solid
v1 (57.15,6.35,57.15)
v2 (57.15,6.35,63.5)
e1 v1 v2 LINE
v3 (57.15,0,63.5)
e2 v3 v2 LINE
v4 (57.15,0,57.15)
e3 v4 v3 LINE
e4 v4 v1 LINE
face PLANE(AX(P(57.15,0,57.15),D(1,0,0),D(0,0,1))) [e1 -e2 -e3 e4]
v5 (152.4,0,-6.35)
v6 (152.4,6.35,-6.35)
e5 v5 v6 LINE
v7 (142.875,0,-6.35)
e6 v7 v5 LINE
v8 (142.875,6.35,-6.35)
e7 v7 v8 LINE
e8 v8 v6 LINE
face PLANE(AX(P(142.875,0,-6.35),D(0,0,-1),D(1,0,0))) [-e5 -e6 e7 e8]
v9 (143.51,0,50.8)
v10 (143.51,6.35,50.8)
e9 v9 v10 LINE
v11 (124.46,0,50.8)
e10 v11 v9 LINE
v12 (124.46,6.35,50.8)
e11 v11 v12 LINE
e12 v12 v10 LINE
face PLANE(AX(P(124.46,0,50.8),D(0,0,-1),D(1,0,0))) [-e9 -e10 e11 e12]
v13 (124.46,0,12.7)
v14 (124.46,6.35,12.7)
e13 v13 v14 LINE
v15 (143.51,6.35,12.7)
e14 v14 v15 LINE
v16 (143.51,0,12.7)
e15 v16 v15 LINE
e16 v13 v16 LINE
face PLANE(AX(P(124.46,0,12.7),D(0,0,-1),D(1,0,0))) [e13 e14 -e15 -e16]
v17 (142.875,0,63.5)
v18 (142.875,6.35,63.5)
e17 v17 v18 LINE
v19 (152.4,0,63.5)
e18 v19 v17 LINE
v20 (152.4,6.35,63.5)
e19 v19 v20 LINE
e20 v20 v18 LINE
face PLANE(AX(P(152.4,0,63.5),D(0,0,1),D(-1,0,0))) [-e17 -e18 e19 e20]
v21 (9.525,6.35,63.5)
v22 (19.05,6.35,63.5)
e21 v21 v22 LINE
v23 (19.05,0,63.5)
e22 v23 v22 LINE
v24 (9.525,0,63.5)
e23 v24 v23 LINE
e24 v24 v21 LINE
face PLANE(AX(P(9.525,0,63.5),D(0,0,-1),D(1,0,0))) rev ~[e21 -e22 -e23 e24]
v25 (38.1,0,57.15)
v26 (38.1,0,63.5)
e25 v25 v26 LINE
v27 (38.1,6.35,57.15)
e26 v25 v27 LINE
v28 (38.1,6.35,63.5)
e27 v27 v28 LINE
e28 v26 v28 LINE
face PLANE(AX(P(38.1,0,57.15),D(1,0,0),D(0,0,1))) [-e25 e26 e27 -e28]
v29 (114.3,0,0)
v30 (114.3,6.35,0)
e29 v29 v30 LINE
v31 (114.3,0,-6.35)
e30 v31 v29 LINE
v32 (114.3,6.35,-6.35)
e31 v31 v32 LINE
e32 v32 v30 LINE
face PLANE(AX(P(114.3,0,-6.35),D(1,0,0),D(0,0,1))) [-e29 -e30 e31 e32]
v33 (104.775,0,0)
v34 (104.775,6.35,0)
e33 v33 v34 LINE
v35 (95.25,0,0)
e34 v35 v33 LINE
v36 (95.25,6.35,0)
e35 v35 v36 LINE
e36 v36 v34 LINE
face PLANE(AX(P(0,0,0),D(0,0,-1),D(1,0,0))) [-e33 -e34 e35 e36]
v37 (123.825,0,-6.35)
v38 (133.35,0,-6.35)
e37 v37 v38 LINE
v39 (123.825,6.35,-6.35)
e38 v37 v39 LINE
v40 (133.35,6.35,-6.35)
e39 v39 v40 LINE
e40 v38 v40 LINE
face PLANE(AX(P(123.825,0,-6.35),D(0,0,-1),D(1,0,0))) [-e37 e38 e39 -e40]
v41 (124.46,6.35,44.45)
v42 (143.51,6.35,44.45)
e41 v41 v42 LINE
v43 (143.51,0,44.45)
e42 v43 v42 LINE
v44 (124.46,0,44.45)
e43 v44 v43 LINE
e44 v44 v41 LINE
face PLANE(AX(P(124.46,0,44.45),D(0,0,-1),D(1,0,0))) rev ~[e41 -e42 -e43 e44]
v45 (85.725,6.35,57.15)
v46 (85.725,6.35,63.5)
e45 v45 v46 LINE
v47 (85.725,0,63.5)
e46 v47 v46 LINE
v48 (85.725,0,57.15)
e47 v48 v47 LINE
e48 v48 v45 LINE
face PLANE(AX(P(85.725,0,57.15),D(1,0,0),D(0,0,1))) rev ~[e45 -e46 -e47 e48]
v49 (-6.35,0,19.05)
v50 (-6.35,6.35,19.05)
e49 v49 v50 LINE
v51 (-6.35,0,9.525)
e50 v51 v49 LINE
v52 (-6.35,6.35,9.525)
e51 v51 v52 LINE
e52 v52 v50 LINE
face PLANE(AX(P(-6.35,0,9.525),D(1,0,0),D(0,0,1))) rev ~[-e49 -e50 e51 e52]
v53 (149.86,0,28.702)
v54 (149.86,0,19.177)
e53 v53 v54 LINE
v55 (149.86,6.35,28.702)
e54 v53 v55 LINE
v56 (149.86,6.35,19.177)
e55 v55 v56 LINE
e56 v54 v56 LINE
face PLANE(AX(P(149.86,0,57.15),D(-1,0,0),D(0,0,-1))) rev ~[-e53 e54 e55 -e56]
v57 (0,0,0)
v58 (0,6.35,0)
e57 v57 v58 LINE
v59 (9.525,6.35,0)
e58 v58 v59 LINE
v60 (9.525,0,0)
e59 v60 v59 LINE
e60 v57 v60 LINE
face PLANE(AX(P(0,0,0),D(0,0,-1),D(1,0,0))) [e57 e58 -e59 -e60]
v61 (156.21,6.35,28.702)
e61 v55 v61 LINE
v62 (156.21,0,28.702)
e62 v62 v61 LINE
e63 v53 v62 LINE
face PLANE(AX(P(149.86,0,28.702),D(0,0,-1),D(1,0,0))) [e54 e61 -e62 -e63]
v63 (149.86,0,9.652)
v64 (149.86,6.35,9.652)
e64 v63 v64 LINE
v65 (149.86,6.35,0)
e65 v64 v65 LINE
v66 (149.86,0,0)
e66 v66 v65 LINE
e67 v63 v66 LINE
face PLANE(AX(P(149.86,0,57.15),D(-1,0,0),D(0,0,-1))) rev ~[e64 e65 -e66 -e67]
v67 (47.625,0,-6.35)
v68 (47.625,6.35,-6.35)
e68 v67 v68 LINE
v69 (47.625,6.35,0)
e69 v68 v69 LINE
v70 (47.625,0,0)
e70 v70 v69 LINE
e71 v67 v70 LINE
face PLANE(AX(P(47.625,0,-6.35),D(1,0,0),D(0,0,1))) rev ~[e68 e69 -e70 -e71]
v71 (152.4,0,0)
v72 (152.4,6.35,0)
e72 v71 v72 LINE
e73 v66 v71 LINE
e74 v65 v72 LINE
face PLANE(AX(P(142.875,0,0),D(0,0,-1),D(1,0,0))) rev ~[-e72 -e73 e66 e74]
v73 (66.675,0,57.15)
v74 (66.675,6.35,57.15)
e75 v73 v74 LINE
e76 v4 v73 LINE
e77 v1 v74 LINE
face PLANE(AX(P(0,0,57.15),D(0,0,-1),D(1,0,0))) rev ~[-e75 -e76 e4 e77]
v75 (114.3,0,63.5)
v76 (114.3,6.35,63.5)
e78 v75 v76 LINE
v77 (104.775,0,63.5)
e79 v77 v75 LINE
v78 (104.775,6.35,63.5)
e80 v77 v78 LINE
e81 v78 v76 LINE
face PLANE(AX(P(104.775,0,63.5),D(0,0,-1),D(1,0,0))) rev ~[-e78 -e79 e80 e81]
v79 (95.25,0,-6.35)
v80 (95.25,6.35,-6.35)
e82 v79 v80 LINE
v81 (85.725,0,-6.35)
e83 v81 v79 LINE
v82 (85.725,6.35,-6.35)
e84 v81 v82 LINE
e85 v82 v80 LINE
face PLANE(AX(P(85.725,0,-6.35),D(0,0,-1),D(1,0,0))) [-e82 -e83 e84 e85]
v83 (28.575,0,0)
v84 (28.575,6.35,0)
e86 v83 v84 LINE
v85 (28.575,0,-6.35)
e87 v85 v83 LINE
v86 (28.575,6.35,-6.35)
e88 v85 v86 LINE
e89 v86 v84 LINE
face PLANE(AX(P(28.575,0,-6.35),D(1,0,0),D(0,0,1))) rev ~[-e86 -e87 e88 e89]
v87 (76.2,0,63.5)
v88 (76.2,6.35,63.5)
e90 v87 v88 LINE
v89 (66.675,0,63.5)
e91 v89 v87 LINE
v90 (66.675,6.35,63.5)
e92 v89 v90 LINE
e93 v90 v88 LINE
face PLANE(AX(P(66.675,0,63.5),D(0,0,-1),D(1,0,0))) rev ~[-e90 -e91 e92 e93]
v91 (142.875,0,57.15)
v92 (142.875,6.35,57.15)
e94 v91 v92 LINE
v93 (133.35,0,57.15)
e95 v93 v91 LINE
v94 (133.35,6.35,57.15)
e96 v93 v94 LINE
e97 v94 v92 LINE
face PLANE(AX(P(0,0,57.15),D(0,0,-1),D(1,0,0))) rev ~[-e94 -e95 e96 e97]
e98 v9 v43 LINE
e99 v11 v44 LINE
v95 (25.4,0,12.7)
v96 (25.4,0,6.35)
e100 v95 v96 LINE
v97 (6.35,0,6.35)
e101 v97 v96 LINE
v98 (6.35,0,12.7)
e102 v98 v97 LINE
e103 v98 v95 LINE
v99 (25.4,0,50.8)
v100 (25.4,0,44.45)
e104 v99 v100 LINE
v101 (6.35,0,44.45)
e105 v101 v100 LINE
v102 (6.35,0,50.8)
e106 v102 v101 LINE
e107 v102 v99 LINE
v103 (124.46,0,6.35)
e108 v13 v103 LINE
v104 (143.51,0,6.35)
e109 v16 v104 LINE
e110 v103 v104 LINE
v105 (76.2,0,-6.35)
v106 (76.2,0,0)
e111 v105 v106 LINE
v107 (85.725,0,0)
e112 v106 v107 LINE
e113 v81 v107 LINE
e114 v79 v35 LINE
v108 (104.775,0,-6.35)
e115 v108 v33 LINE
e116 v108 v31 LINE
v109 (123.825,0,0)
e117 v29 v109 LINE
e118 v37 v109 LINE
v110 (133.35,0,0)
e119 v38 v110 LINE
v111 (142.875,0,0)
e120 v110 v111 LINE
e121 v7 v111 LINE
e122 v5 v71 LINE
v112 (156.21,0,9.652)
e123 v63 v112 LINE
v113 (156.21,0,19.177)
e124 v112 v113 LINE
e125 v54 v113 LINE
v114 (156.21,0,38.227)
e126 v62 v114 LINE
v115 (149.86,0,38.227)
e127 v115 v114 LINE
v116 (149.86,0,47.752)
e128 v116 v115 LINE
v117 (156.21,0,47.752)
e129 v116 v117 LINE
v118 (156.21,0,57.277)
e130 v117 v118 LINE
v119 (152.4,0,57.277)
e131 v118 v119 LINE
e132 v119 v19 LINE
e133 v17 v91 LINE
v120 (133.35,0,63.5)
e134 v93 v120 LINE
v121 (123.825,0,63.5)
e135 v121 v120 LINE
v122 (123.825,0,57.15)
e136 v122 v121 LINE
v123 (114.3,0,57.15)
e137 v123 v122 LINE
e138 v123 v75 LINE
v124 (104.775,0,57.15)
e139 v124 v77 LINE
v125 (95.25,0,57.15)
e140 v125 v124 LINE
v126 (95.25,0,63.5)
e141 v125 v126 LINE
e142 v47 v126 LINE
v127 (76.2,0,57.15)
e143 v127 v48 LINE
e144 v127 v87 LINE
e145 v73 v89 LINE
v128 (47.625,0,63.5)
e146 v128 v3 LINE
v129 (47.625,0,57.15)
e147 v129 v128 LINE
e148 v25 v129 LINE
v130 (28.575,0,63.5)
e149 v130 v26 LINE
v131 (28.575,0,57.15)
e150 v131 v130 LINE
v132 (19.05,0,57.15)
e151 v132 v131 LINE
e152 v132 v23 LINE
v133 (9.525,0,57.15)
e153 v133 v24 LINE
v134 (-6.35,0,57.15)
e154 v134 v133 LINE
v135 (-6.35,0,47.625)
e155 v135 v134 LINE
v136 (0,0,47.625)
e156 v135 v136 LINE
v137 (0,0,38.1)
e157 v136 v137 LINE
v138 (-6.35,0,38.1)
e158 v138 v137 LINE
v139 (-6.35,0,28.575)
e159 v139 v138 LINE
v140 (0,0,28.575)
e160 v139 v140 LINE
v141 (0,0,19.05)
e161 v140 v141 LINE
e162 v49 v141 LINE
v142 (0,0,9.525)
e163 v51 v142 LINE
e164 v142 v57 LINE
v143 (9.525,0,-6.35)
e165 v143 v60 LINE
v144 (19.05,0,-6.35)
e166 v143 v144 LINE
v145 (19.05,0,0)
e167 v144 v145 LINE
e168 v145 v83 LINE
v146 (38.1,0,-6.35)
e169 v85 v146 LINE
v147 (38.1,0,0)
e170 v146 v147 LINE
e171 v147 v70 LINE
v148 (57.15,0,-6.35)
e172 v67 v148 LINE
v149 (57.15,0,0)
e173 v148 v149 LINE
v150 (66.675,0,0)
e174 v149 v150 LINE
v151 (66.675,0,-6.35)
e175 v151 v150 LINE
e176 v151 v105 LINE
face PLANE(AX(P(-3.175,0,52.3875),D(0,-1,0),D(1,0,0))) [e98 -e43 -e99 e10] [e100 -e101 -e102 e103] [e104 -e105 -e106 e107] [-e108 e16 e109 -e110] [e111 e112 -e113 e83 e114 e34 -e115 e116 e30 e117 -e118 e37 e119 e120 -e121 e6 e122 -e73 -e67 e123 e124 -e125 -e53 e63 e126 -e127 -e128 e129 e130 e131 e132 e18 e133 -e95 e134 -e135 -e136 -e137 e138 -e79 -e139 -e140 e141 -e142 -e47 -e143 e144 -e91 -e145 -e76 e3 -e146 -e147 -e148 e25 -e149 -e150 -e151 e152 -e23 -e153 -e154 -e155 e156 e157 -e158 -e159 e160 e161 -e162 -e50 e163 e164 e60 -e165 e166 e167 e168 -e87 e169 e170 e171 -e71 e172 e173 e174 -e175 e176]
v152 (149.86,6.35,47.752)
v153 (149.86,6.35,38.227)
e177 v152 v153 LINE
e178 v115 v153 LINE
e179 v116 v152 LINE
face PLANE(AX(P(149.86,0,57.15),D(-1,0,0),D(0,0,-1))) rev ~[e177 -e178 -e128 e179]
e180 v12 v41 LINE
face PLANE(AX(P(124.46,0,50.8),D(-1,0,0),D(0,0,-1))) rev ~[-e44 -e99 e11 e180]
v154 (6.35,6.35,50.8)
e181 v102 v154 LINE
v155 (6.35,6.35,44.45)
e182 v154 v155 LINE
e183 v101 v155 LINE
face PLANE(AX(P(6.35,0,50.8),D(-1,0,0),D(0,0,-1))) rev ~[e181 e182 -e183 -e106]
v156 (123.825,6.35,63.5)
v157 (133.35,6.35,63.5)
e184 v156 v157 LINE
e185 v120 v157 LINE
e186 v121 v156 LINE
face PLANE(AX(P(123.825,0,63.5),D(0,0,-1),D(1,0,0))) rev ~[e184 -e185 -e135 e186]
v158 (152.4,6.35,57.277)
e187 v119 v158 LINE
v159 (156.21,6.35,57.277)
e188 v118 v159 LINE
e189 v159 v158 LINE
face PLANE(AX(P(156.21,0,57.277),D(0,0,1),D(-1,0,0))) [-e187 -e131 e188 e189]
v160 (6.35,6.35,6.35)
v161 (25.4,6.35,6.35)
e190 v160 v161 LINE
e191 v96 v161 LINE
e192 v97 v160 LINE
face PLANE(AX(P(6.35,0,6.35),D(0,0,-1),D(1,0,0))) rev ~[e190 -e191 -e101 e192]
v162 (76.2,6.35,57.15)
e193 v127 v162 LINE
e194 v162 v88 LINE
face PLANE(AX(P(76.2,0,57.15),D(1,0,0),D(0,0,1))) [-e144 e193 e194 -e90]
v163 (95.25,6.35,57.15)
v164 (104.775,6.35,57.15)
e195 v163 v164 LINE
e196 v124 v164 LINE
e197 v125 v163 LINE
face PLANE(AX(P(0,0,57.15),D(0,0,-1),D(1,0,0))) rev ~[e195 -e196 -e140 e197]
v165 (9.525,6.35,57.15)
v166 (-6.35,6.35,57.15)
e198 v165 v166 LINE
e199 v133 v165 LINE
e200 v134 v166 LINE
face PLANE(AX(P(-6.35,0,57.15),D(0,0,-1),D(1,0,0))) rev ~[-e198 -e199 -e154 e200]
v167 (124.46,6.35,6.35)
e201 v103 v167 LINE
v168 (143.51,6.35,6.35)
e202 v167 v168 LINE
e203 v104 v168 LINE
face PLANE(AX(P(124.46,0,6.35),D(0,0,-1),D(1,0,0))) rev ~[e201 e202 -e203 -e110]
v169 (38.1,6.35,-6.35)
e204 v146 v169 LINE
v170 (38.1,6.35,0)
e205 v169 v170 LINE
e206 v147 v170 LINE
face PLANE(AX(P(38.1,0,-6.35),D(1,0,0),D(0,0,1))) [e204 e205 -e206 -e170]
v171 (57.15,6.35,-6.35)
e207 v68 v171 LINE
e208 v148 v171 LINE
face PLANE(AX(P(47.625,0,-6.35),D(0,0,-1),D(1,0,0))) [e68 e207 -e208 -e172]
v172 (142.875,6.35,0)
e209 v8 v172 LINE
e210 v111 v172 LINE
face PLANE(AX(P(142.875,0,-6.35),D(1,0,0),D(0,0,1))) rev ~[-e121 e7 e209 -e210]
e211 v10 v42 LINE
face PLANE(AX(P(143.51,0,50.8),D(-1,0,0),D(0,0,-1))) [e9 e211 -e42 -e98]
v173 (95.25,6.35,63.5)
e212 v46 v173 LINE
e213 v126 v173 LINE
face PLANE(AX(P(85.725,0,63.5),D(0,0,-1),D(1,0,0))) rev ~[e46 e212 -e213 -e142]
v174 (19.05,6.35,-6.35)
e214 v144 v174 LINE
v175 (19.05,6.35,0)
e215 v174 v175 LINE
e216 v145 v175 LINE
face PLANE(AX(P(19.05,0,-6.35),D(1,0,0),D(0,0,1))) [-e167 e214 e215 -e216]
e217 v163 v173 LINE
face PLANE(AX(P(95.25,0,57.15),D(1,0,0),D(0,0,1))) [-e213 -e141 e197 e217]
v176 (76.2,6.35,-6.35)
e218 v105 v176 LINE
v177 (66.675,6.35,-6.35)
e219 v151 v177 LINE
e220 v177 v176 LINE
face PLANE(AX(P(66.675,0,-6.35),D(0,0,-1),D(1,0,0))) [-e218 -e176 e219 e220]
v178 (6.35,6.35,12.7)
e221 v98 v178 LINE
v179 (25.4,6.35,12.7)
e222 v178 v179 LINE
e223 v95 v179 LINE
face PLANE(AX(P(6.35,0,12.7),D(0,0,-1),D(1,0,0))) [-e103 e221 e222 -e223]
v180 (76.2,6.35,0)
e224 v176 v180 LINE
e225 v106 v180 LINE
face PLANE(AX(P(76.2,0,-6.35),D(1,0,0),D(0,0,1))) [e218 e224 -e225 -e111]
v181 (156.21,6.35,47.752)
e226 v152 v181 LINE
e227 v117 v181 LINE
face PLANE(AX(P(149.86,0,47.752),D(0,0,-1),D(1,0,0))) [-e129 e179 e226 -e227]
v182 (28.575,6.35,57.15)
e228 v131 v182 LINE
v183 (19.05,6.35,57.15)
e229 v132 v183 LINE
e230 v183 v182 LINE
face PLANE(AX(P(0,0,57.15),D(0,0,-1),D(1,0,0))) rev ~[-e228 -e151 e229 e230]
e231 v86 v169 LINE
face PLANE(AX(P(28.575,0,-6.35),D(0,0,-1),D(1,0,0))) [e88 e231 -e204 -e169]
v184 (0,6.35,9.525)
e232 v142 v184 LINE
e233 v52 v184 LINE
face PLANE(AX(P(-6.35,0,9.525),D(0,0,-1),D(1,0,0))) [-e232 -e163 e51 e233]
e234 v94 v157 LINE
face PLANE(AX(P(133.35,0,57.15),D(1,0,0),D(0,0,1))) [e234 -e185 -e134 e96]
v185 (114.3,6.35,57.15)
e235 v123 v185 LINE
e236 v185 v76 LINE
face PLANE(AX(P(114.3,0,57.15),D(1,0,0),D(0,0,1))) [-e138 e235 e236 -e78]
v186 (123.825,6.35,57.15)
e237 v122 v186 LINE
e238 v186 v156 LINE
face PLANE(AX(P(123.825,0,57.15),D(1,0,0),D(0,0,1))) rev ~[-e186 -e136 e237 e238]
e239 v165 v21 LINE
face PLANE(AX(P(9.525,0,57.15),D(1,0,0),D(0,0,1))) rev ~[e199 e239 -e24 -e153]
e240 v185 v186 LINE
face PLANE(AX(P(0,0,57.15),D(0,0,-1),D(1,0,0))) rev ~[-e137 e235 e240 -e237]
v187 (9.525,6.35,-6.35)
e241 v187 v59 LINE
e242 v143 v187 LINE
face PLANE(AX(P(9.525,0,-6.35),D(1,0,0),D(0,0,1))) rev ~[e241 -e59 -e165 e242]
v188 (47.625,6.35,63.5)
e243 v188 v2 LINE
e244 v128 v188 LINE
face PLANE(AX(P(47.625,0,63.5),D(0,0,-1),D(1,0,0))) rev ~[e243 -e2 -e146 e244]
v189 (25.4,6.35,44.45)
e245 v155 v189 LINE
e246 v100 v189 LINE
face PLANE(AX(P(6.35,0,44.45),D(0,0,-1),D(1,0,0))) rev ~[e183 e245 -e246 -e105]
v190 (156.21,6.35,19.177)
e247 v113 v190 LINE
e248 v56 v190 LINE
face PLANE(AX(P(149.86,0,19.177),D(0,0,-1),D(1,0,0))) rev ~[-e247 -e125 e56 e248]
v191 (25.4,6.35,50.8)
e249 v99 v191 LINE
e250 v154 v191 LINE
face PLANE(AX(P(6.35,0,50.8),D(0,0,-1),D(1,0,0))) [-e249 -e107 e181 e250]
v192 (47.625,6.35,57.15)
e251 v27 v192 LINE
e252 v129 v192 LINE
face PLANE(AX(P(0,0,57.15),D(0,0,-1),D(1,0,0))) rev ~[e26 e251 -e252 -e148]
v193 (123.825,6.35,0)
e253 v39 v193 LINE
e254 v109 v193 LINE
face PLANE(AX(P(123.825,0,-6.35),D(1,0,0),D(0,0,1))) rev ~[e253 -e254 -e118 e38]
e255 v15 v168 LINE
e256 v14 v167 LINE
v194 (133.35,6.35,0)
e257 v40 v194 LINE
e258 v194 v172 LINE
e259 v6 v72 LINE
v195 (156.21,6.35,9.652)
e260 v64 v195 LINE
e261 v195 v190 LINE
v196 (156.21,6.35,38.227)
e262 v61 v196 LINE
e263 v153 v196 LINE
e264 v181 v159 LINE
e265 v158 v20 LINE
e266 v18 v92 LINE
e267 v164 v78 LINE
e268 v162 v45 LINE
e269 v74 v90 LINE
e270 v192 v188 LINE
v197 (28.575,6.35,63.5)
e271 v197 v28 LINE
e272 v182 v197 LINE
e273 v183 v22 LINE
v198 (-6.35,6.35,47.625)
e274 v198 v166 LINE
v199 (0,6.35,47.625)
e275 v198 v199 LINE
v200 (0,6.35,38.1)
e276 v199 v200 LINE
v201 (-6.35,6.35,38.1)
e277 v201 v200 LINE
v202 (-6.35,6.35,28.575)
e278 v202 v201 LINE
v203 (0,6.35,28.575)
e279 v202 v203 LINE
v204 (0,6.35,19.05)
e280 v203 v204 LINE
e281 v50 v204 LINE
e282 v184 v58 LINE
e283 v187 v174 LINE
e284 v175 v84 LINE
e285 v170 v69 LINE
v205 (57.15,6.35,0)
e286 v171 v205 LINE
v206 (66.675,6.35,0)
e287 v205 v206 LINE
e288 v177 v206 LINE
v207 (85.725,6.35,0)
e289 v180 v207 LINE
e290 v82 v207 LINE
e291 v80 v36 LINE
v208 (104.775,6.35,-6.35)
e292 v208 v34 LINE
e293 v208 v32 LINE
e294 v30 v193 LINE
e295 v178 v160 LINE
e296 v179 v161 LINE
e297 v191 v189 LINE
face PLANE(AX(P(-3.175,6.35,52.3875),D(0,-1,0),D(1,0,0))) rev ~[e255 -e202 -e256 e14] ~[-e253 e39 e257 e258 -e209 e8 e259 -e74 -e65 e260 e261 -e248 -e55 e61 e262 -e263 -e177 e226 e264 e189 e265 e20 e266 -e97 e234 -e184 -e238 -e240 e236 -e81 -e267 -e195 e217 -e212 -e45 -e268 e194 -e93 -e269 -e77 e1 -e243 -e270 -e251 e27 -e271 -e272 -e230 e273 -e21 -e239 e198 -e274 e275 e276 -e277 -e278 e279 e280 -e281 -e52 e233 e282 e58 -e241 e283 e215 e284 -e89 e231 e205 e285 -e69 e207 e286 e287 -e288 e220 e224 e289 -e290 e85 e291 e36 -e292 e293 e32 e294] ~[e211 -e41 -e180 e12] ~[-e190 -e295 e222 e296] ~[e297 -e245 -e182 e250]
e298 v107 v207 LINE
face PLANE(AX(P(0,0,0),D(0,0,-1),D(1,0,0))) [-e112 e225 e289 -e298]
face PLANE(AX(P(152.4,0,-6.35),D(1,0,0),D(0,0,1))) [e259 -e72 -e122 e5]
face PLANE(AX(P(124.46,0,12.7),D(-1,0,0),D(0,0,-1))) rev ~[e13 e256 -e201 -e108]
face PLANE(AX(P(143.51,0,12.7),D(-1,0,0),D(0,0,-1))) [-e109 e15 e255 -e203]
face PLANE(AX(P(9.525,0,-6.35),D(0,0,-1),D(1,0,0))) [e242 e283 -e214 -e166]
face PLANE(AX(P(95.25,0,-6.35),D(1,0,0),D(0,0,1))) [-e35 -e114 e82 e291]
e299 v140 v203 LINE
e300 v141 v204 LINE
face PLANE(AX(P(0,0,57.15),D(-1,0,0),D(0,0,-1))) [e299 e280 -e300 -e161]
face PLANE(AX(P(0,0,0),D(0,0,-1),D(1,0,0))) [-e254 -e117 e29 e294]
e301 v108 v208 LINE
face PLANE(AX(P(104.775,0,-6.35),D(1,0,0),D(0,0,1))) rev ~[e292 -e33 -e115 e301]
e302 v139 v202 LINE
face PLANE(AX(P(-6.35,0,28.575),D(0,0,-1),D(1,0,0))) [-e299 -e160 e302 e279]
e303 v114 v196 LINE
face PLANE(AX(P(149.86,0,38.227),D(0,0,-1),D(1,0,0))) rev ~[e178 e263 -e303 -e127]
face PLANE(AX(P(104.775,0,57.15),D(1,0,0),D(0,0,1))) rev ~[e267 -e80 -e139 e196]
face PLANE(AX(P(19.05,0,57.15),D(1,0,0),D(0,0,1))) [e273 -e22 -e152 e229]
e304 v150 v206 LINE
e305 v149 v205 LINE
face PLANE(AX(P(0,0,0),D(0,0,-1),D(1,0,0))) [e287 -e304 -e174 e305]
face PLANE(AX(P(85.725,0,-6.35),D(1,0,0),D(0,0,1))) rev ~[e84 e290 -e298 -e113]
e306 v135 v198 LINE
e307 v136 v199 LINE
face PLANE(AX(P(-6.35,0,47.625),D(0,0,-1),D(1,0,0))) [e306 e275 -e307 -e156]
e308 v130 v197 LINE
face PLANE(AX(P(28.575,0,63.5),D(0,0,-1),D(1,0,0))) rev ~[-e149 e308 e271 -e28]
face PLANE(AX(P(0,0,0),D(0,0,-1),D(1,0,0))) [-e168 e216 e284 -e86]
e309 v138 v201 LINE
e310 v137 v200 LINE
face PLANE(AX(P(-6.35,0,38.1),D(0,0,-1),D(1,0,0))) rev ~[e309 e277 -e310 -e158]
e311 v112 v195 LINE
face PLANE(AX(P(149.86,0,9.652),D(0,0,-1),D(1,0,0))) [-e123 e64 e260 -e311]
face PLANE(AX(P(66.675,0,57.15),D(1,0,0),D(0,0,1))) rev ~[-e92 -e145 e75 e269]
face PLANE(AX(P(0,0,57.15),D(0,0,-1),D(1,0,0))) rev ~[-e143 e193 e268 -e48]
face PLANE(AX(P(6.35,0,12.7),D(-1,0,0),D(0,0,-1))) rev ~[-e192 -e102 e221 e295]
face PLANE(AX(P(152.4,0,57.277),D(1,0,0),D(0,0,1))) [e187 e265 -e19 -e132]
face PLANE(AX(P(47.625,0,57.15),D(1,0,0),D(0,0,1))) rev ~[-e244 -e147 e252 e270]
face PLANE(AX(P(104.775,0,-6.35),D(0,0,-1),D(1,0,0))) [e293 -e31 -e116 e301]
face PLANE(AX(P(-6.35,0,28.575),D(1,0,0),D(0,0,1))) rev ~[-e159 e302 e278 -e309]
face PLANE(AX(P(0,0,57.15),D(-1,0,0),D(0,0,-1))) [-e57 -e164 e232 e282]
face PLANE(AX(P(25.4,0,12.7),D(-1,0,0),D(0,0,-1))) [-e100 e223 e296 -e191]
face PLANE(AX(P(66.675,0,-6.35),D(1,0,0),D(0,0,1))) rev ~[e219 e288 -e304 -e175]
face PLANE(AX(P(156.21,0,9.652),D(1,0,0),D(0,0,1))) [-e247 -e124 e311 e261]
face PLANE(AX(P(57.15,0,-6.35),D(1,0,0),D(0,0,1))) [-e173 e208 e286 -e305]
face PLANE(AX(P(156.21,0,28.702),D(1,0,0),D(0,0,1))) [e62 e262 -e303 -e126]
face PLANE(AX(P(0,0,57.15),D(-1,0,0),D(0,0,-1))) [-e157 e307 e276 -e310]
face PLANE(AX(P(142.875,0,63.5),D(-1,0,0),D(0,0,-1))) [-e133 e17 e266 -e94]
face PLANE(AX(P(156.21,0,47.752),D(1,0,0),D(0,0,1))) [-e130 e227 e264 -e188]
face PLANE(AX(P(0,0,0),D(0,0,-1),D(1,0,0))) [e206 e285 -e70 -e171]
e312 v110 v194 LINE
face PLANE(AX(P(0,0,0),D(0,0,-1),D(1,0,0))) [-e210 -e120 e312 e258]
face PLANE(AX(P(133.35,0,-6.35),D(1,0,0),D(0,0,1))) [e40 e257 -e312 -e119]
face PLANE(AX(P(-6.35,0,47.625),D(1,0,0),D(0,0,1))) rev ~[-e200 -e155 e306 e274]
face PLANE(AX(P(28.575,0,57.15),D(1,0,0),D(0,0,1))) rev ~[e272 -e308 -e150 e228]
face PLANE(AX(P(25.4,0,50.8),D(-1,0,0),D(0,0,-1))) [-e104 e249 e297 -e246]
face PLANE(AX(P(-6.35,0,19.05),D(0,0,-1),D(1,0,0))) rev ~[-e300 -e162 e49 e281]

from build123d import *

# Parameters (mm, degrees)
SKETCH1_W           = 149.86
SKETCH1_H           = 57.15
SKETCH1_W_2         = 19.05
SKETCH1_H_2         = 6.35
BOSS_EXTRUDE1_DEPTH = 6.35
SKETCH2_W           = 6.35
SKETCH2_H           = 9.525
SKETCH2_W_2         = 9.525
SKETCH2_H_2         = 6.35
BOSS_EXTRUDE2_DEPTH = 6.35


with BuildPart() as part:
    # Sketch1 → Boss-Extrude1 (new body)
    with BuildSketch(Plane(origin=(0, 0, 0), x_dir=(1, 0, 0), z_dir=(0, 1, 0))):
        with Locations((74.93, -28.575)):
            Rectangle(SKETCH1_W, SKETCH1_H)
        with Locations((15.875, -47.625)):
            Rectangle(SKETCH1_W_2, SKETCH1_H_2, mode=Mode.SUBTRACT)
        with Locations((15.875, -9.525)):
            Rectangle(SKETCH1_W_2, SKETCH1_H_2, mode=Mode.SUBTRACT)
        with Locations((133.985, -47.625)):
            Rectangle(SKETCH1_W_2, SKETCH1_H_2, mode=Mode.SUBTRACT)
        with Locations((133.985, -9.525)):
            Rectangle(SKETCH1_W_2, SKETCH1_H_2, mode=Mode.SUBTRACT)
    extrude(amount=BOSS_EXTRUDE1_DEPTH)

    # Sketch2 → Boss-Extrude2 (add)
    with BuildSketch(Plane.XZ):
        with Locations((-3.175, 14.2875)):
            Rectangle(SKETCH2_W, SKETCH2_H)
        with Locations((-3.175, 33.3375)):
            Rectangle(SKETCH2_W, SKETCH2_H)
        with Locations((-3.175, 52.3875)):
            Rectangle(SKETCH2_W, SKETCH2_H)
        with Locations((153.035, 14.4145)):
            Rectangle(SKETCH2_W, SKETCH2_H)
        with Locations((33.3375, 60.325)):
            Rectangle(SKETCH2_W_2, SKETCH2_H_2)
        with Locations((14.2875, 60.325)):
            Rectangle(SKETCH2_W_2, SKETCH2_H_2)
        with Locations((52.3875, 60.325)):
            Rectangle(SKETCH2_W_2, SKETCH2_H_2)
        with Locations((71.4375, 60.325)):
            Rectangle(SKETCH2_W_2, SKETCH2_H_2)
        with Locations((90.4875, 60.325)):
            Rectangle(SKETCH2_W_2, SKETCH2_H_2)
        with Locations((109.5375, 60.325)):
            Rectangle(SKETCH2_W_2, SKETCH2_H_2)
        with Locations((128.5875, 60.325)):
            Rectangle(SKETCH2_W_2, SKETCH2_H_2)
        Polygon((142.875, 63.5), (142.875, 57.15), (149.86, 57.15), (149.86, 47.752), (156.21, 47.752), (156.21, 57.277), (152.4, 57.277), (152.4, 63.5), align=None)
        with Locations((14.2875, -3.175)):
            Rectangle(SKETCH2_W_2, SKETCH2_H_2)
        with Locations((147.6375, -3.175)):
            Rectangle(SKETCH2_W_2, SKETCH2_H_2)
        with Locations((128.5875, -3.175)):
            Rectangle(SKETCH2_W_2, SKETCH2_H_2)
        with Locations((109.5375, -3.175)):
            Rectangle(SKETCH2_W_2, SKETCH2_H_2)
        with Locations((90.4875, -3.175)):
            Rectangle(SKETCH2_W_2, SKETCH2_H_2)
        with Locations((71.4375, -3.175)):
            Rectangle(SKETCH2_W_2, SKETCH2_H_2)
        with Locations((52.3875, -3.175)):
            Rectangle(SKETCH2_W_2, SKETCH2_H_2)
        with Locations((33.3375, -3.175)):
            Rectangle(SKETCH2_W_2, SKETCH2_H_2)
        with Locations((153.035, 33.4645)):
            Rectangle(SKETCH2_W, SKETCH2_H)
    extrude(amount=-BOSS_EXTRUDE2_DEPTH)


solid = part.part
